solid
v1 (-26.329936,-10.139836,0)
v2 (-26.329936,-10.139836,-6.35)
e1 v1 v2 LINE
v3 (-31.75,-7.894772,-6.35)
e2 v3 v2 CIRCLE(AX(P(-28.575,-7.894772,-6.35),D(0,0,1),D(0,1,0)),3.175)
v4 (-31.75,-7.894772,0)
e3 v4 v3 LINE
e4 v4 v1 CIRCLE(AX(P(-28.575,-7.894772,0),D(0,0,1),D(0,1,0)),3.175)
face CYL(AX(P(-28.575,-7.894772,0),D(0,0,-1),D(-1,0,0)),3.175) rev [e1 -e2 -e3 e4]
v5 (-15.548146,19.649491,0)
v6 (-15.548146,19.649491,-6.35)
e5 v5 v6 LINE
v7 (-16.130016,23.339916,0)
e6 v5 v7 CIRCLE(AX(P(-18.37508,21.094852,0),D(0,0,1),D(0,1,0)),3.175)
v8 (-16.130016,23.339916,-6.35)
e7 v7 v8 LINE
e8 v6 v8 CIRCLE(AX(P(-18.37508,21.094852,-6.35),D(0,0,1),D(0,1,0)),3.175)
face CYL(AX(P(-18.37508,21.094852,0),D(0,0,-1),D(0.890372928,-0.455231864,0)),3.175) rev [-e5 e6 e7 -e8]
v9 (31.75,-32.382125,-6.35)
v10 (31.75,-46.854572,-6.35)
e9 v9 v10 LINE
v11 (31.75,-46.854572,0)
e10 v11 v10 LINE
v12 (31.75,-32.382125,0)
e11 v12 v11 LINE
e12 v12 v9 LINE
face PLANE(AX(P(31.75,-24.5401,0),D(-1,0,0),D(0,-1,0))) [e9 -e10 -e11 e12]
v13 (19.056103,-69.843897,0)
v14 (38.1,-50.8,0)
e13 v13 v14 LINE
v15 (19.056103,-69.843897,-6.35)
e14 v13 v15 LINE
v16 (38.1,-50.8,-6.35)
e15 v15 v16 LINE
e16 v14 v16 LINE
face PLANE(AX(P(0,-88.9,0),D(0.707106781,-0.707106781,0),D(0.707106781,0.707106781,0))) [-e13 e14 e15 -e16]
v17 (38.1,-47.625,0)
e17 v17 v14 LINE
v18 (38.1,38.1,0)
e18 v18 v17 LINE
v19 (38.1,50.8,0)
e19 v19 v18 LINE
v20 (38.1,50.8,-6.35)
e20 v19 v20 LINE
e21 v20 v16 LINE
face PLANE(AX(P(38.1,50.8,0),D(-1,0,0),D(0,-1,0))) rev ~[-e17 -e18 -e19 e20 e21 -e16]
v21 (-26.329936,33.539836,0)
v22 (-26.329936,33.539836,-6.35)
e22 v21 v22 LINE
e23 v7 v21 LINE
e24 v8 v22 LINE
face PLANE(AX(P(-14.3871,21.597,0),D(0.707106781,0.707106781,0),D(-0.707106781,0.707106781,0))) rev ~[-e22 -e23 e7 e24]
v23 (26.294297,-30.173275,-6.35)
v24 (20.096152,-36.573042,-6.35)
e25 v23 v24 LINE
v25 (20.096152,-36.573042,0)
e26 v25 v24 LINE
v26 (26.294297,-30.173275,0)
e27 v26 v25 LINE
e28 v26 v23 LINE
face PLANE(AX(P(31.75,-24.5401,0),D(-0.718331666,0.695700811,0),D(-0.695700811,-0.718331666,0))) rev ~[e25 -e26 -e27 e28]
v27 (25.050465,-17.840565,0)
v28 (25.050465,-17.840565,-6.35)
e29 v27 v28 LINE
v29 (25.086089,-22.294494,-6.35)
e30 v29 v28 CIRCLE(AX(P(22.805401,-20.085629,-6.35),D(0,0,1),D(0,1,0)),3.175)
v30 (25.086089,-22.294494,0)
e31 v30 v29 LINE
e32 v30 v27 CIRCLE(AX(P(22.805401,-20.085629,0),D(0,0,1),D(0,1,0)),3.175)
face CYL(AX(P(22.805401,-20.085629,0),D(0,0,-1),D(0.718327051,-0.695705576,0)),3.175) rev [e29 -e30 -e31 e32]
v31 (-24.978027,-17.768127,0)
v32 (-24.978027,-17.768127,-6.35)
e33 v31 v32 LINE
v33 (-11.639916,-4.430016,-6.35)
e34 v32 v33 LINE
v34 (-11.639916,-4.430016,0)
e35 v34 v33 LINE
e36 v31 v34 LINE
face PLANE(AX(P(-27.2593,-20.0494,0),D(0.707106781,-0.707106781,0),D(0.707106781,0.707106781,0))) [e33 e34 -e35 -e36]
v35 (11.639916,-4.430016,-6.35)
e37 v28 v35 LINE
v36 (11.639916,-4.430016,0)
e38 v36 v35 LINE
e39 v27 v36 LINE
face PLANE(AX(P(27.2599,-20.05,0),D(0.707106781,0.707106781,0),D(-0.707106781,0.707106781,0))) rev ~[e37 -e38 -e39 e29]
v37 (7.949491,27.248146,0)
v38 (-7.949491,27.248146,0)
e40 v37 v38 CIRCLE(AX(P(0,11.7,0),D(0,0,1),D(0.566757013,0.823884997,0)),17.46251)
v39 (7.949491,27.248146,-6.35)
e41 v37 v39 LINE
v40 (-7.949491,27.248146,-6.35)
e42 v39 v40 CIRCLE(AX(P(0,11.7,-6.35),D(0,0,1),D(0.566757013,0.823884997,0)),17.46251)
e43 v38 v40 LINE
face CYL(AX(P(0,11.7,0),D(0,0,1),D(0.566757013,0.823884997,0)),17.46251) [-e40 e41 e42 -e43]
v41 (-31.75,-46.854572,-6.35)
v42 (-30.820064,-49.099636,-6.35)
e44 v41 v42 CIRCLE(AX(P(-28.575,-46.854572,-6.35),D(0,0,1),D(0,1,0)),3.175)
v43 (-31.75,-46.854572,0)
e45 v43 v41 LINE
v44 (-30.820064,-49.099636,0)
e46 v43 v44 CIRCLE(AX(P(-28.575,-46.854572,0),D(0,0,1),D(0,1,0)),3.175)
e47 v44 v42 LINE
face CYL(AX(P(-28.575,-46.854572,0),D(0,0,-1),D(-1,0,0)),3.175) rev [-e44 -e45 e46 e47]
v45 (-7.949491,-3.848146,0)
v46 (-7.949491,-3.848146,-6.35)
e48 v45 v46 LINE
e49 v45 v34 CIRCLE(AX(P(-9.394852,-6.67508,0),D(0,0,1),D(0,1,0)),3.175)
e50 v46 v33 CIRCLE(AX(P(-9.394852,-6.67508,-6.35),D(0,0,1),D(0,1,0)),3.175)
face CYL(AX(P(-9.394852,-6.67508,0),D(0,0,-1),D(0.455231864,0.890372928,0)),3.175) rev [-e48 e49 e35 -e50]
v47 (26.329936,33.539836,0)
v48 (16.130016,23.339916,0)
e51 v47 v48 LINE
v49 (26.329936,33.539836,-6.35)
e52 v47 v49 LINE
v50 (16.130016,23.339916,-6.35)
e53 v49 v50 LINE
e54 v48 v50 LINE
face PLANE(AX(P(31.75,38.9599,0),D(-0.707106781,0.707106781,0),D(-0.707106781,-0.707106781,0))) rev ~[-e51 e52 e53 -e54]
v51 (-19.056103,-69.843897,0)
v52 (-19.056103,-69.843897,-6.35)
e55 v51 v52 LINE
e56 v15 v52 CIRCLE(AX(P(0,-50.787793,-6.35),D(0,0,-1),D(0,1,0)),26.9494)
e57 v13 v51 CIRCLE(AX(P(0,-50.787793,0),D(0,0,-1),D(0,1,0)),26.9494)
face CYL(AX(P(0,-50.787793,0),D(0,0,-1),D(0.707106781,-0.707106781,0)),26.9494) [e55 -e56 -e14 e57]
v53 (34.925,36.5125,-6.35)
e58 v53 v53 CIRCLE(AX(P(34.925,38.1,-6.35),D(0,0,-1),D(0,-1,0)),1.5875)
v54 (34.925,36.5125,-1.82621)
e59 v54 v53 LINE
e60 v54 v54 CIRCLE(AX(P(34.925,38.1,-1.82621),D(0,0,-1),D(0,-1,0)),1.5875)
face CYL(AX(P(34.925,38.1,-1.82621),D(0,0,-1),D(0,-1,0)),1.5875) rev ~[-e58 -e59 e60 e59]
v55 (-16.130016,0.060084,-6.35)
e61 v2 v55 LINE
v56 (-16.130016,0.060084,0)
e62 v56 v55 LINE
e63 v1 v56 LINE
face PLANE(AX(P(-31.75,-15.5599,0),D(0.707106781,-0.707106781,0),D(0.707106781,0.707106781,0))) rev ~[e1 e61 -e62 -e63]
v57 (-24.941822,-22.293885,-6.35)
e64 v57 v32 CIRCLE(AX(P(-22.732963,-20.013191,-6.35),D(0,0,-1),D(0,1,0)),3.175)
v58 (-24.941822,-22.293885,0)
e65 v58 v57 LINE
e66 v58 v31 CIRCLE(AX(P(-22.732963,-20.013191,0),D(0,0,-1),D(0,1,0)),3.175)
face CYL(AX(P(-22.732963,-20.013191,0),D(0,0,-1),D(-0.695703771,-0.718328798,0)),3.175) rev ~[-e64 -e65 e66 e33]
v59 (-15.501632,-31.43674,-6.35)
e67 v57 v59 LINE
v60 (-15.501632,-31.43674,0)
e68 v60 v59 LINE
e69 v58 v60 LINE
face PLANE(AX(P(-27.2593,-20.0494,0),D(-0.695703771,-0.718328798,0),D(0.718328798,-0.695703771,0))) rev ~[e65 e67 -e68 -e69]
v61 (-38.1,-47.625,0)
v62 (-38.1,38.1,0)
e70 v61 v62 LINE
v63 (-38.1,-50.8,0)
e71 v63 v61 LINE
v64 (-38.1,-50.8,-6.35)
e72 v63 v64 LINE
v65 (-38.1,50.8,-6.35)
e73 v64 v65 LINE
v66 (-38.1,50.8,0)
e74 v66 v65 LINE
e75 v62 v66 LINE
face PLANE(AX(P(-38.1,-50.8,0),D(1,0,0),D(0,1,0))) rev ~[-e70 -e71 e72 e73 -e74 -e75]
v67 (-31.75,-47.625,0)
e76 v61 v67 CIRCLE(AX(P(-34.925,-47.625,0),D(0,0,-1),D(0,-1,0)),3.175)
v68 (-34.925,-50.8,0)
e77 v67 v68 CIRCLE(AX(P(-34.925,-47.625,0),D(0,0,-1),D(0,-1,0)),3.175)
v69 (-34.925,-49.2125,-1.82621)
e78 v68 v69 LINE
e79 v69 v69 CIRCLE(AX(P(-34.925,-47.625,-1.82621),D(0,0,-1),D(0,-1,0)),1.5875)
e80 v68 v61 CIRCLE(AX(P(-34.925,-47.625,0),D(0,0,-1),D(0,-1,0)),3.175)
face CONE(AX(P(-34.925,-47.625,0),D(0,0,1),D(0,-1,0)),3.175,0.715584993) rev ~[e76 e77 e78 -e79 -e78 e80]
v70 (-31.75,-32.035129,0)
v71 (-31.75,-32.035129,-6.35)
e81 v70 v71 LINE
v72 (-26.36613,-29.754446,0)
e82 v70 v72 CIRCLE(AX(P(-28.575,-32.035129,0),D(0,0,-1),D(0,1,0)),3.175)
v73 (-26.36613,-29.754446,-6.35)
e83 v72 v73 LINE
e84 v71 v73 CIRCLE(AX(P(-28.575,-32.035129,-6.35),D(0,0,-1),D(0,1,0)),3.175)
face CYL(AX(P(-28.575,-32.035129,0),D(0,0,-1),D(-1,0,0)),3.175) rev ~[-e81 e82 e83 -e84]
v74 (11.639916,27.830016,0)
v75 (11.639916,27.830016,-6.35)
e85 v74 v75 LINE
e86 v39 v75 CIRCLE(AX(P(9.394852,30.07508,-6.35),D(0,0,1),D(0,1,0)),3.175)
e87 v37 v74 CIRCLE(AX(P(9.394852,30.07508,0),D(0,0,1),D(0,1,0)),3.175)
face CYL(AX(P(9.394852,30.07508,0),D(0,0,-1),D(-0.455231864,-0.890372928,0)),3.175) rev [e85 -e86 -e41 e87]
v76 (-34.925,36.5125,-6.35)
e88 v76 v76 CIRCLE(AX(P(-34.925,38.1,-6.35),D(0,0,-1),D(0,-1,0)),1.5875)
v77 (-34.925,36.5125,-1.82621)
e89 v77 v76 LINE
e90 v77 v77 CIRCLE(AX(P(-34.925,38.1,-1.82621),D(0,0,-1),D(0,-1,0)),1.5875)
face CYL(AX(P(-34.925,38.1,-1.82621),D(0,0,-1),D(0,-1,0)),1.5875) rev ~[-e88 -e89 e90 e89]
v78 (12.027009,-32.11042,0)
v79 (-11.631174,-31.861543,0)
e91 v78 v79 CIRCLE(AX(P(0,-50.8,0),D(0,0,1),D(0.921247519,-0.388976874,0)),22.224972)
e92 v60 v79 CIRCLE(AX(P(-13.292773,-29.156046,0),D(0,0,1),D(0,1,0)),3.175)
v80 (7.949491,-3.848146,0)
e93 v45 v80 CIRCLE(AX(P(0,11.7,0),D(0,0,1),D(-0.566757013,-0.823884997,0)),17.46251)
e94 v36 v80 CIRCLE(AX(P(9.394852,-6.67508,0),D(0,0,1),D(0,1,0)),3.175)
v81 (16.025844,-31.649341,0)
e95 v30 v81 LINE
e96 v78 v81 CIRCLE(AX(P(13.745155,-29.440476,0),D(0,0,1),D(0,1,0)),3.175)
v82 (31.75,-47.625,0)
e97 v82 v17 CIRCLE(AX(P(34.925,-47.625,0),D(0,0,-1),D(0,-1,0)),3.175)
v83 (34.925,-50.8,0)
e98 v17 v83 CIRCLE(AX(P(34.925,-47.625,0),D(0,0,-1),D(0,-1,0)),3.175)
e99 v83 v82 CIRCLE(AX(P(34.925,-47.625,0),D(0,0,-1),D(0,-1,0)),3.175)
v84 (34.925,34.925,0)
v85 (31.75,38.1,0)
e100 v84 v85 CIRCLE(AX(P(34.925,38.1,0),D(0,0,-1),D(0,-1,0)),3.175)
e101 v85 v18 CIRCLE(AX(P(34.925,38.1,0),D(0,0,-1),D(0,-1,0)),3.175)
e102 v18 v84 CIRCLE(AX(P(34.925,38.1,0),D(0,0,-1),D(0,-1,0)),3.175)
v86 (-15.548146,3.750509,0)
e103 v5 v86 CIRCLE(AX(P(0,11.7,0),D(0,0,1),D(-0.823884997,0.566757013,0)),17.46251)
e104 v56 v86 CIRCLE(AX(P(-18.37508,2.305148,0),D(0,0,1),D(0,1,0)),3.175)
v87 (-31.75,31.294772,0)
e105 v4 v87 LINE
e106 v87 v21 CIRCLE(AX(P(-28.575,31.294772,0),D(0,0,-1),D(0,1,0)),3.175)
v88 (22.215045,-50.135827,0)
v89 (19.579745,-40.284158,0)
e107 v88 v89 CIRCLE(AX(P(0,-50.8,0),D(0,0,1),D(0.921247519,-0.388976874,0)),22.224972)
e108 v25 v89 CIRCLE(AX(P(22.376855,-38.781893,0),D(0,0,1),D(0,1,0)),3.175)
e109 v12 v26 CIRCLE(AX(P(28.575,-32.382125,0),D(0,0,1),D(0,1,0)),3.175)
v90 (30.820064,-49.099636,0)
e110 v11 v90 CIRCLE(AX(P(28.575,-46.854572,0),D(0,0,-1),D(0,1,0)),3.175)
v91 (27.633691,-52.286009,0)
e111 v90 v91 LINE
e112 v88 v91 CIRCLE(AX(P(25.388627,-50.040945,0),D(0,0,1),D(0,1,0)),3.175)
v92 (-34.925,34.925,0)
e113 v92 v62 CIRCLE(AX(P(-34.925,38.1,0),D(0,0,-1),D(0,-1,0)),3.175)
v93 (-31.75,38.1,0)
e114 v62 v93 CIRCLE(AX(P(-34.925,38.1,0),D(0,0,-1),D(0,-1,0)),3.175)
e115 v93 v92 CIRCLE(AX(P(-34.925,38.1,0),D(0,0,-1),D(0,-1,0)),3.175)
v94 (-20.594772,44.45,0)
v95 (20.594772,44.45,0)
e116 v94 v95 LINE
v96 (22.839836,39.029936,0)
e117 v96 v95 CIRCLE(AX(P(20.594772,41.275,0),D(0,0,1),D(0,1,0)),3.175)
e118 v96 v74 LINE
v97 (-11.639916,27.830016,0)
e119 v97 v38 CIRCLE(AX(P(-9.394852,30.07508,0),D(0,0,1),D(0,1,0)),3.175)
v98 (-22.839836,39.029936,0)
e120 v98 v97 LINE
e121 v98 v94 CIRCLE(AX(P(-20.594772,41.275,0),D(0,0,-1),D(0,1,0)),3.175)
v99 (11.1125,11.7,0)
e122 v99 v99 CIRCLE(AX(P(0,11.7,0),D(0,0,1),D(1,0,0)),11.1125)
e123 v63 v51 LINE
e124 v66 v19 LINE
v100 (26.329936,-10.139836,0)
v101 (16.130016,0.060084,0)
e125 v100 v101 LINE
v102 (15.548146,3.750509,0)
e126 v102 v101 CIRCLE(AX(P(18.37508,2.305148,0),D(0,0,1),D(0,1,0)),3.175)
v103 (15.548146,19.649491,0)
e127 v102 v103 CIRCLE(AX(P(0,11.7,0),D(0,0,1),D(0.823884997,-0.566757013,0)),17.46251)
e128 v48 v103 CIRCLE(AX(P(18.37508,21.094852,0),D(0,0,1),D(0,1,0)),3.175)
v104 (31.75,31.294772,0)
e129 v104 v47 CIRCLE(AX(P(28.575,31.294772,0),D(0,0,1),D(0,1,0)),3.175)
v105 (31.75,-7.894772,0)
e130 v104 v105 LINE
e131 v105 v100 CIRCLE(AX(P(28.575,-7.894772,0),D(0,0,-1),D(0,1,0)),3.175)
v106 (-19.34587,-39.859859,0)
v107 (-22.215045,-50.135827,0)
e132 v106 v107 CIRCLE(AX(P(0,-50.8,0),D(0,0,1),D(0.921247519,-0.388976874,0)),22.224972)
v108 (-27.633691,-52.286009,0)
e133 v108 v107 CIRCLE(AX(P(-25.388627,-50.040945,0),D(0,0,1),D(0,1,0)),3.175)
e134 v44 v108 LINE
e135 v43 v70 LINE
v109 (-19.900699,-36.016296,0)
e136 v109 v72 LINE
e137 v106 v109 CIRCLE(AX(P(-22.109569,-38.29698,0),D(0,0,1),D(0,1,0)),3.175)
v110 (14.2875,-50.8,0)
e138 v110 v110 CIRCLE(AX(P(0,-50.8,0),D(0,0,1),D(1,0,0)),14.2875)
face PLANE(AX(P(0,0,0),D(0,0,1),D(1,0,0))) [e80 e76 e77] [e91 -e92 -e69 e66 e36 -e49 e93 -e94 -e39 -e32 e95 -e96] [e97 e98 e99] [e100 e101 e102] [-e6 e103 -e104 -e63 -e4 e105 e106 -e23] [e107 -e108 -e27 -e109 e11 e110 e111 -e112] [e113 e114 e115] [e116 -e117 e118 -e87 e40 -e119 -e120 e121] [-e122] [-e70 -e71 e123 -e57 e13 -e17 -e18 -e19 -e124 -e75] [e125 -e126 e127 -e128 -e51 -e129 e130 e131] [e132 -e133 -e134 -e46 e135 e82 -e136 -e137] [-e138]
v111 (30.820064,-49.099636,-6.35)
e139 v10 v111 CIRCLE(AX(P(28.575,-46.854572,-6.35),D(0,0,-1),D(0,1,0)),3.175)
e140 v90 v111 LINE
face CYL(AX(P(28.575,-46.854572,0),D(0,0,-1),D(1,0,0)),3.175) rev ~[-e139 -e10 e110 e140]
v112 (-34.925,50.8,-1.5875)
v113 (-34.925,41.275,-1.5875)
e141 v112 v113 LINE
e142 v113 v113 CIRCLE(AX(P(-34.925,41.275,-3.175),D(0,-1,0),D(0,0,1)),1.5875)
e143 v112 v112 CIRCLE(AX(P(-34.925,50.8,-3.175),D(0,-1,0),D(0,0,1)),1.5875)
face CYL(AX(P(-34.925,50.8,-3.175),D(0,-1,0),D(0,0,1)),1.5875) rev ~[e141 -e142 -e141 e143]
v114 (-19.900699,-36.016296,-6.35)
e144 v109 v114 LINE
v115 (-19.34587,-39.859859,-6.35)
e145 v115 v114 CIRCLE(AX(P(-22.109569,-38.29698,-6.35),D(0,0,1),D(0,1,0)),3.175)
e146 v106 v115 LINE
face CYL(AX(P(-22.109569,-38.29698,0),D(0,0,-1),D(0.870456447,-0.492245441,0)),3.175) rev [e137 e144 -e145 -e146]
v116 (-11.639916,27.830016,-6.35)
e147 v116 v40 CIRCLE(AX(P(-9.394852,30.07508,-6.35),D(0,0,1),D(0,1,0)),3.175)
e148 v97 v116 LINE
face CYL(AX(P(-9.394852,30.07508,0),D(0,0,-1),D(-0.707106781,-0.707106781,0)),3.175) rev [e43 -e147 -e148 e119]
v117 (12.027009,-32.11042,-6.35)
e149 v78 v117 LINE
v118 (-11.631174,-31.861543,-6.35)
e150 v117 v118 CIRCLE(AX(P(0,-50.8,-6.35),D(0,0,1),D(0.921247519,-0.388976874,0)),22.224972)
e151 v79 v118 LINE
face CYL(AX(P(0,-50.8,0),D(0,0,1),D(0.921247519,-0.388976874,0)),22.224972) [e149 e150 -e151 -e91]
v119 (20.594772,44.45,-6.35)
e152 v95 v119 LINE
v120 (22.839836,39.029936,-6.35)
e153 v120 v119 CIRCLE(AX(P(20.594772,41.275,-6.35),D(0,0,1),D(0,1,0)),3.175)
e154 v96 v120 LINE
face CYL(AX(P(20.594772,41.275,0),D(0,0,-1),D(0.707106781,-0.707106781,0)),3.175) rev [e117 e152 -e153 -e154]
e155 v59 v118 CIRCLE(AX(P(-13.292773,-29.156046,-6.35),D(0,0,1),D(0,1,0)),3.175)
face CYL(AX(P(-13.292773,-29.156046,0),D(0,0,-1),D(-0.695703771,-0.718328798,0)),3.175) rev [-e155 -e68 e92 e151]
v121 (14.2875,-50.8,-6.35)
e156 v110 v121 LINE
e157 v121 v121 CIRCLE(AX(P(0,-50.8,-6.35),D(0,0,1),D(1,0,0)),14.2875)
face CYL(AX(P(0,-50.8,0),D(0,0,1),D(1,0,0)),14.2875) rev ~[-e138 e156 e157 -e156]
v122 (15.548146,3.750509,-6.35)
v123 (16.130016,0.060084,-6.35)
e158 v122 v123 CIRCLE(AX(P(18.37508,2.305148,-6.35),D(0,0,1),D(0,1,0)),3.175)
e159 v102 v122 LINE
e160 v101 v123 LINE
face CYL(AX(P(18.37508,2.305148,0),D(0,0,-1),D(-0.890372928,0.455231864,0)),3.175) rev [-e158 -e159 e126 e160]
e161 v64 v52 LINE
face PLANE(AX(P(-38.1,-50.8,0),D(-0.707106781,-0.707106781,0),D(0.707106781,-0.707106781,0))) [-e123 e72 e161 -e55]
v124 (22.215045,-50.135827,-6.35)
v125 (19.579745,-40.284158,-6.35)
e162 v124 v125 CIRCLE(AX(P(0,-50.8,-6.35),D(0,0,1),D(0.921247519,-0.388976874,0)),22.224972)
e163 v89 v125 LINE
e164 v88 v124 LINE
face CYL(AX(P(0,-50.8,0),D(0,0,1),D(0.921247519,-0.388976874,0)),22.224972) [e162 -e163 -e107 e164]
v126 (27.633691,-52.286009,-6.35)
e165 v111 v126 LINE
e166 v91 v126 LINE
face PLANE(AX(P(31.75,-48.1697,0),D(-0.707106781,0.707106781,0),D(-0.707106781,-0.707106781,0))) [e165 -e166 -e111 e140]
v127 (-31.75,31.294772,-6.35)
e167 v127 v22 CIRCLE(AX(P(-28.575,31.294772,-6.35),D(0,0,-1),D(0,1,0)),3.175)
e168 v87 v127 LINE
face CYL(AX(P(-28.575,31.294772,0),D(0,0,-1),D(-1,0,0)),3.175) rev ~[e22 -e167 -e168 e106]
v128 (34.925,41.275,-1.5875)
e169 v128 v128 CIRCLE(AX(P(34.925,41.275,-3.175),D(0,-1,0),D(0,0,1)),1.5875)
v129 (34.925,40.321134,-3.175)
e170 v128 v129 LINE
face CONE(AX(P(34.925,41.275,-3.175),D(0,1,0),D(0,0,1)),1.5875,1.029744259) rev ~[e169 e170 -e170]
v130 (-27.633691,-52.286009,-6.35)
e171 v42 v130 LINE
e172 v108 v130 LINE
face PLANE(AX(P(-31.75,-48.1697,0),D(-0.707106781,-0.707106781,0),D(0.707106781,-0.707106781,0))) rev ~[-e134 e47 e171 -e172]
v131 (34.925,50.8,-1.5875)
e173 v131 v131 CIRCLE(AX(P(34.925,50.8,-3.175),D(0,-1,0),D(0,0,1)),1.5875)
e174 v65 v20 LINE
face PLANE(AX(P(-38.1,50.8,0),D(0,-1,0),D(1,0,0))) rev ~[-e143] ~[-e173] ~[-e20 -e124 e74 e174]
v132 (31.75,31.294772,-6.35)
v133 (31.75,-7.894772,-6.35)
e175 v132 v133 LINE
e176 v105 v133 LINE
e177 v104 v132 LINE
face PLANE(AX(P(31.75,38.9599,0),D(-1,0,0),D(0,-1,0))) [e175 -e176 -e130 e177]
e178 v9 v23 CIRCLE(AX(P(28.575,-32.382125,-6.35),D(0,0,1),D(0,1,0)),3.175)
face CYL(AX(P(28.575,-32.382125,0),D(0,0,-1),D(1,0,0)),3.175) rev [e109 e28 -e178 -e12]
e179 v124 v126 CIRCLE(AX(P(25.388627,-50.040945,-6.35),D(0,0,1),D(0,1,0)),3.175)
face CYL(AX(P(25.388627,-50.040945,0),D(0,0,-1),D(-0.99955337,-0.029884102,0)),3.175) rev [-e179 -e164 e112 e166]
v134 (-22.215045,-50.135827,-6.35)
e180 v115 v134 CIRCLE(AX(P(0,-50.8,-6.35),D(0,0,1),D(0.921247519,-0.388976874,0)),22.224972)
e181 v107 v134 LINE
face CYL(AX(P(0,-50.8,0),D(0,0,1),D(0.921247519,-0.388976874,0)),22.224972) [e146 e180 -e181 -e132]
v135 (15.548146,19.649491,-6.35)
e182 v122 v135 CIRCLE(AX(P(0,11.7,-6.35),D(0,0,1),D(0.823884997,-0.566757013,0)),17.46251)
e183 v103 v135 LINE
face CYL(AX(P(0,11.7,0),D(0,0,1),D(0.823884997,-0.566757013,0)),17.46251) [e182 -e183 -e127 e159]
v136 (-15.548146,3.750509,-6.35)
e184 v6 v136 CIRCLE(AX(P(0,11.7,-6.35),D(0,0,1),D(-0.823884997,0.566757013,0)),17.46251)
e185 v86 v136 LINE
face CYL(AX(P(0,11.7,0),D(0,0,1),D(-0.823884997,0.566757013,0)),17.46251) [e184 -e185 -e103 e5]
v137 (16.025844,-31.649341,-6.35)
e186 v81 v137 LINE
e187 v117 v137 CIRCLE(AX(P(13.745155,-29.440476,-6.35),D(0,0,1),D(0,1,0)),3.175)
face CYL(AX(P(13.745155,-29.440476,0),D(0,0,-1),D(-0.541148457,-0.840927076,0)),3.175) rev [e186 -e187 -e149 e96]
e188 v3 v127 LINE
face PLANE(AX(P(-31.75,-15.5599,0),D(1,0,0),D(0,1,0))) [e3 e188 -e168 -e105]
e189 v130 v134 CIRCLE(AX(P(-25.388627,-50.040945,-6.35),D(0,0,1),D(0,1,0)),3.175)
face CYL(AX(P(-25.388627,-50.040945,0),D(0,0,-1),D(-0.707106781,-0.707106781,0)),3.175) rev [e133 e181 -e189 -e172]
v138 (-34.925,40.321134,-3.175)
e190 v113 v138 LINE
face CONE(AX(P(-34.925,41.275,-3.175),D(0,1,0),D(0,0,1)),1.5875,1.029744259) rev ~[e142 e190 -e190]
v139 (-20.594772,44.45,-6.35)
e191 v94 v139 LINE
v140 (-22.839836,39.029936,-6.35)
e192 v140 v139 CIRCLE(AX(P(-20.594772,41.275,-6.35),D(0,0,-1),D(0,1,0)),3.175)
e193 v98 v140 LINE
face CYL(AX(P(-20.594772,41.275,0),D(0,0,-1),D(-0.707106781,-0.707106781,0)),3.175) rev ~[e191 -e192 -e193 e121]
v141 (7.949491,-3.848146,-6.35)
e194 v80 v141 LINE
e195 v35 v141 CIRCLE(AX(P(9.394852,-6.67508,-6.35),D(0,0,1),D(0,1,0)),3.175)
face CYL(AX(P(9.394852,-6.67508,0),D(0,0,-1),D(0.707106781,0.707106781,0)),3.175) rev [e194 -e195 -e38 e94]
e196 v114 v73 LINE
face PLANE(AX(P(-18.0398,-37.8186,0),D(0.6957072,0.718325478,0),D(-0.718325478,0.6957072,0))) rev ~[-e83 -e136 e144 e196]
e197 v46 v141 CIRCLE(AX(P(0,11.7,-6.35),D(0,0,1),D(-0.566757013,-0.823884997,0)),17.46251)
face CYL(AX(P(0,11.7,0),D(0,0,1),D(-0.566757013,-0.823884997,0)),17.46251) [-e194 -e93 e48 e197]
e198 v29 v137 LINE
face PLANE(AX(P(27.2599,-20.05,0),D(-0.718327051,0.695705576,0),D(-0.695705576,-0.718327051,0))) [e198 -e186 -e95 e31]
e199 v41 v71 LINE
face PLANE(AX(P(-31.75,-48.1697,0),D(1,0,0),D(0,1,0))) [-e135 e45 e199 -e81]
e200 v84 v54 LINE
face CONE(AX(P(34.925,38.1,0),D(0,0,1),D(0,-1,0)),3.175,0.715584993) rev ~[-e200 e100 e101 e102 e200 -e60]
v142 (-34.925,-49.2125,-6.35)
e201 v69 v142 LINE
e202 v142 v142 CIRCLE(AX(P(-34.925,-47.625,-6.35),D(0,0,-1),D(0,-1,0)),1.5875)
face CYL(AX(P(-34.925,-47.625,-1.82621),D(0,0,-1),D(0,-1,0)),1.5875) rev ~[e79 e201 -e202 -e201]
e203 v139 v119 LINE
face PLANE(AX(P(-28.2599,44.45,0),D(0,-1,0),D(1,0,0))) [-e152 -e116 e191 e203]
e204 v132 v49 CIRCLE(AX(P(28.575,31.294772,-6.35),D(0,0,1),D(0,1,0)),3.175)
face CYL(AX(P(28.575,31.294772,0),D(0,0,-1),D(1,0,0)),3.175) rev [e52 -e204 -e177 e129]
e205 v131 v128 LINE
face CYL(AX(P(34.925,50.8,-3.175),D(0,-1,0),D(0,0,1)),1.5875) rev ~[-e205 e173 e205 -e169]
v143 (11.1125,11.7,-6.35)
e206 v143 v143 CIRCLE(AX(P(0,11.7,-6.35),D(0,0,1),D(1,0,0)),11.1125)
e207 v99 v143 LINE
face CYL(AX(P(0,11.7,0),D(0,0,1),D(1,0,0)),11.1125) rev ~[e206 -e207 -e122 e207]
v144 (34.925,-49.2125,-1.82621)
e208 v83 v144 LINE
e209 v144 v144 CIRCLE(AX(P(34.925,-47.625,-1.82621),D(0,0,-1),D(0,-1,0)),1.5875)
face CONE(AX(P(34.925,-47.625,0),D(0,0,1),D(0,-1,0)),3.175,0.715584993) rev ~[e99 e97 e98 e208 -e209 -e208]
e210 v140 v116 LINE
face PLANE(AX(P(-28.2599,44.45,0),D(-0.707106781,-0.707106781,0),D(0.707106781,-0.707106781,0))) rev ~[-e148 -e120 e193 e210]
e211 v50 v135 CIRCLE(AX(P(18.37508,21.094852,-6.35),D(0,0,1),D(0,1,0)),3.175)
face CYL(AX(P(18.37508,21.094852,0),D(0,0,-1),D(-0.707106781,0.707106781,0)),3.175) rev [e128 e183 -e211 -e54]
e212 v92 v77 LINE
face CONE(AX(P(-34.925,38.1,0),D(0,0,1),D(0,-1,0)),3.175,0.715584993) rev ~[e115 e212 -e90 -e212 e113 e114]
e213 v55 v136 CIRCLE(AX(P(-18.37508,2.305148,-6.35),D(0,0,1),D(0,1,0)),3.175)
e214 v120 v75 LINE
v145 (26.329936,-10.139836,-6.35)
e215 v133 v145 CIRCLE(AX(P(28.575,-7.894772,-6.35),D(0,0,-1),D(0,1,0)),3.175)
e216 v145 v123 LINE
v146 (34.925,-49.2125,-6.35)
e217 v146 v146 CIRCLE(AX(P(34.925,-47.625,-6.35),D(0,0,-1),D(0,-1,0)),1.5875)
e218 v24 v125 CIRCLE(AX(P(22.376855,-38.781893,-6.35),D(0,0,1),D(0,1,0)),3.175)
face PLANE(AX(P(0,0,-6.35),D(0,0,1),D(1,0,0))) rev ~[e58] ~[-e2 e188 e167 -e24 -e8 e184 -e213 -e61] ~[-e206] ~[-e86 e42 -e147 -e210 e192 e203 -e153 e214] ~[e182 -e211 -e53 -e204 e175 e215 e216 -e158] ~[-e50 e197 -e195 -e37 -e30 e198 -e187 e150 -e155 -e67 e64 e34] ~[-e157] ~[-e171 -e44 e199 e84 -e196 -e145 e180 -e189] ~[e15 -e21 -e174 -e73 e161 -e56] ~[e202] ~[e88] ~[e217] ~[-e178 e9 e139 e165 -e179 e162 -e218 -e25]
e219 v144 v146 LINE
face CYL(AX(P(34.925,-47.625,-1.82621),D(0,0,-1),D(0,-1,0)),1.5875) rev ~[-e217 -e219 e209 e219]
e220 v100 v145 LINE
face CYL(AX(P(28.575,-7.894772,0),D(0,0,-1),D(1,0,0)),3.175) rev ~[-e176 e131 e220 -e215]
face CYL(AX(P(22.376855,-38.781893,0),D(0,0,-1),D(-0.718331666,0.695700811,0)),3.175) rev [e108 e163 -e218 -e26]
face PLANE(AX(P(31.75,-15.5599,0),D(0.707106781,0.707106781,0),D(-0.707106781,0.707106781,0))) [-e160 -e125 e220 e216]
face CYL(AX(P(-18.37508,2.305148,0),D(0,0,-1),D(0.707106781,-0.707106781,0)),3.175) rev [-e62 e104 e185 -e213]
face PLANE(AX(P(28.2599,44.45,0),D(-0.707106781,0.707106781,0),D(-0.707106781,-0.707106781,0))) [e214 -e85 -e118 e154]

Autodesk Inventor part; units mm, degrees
ref_plane "YZ Plane" through (0, 0, 0) normal (1, 0, 0) x (0, 1, 0)
ref_plane "XZ Plane" through (0, 0, 0) normal (0, 1, 0) x (-1, 0, 0)
ref_plane "XY Plane" through (0, 0, 0) normal (0, 0, 1) x (1, 0, 0)
sketch "Sketch1" plane through (0, 0, 0) normal (0, 0, 1) x (1, 0, 0)
  line L0 (-38.1, 50.8) -> (38.1, 50.8)
  line L1 (38.1, 50.8) -> (38.1, -50.8)
  line L2 (-38.1, -50.8) -> (-38.1, 50.8)
  circle A0 centre (0, 11.7) radius 11.1125
  line L3 (-38.1, -50.8) -> (0, -88.9)
  line L4 (0, -88.9) -> (38.1, -50.8)
  circle A1 centre (0, -50.8) radius 14.2875
  point P0 (0, 0)
  point P1 (-34.925, -47.625)
  point P2 (34.925, -47.625)
  point P3 (-34.925, 38.1)
  point P4 (34.925, 38.1)
  dimension "d0" = 76.2
  dimension "d1" = 38.1
  dimension "d2" = 101.6
  dimension "d3" = 50.8
  dimension "d4" = 101.6
  dimension "d5" = 38.1
  dimension "d6" = 38.1
  dimension "d7" = 28.575
  dimension "d8" = 38.1
  dimension "d9" = 38.1
  dimension "d10" = 22.225
  dimension "d11" = 38.1
  dimension "d13" = 3.175
  dimension "d14" = 12.7
  dimension "d15" = 3.175
  dimension "d16" = 3.175
  dimension "d17" = 3.175
  dimension "d18" = 3.175
  dimension "d31" = 3.175
  dimension "d32" = 12.7
  dimension "d88" = 62.5
extrude "Extrusion1" add sketch "Sketch1" against normal blind 6.35
fillet "Fillet1" radius 26.9494 1 edges at (0, -88.9, -3.175)
sketch "Sketch2" plane through (0, 0, 0) normal (0, 0, 1) x (1, 0, 0)
  line L0 (-38.1, 50.8) -> (38.1, 50.8) projected
  line L1 (-38.1, -50.8) -> (-38.1, 50.8) projected
  line L2 (38.1, -50.8) -> (19.0561, -69.8439) projected
  line L3 (38.1, 50.8) -> (38.1, -50.8) projected
  line L4 (-19.0561, -69.8439) -> (-38.1, -50.8) projected
  circle A0 centre (0, -50.8) radius 14.2875 projected
  line L5 (-31.75, 44.45) -> (31.75, 44.45)
  line L6 (31.75, 44.45) -> (31.75, -48.1697)
  line L7 (-31.75, -48.1697) -> (-31.75, 44.45)
  line L8 (-31.75, -48.1697) -> (-20.4747, -59.445)
  line L9 (31.75, -48.1697) -> (20.4747, -59.445)
  arc A1 (20.4747, -59.445) -> (-20.4747, -59.445) centre (0, -50.8) ccw
  arc A2 (9.897, 26.0871) -> (-9.897, 26.0871) centre (0, 11.7) ccw
  arc A3 (14.3871, 1.803) -> (14.3871, 21.597) centre (0, 11.7) ccw
  arc A4 (-9.897, -2.6871) -> (9.897, -2.6871) centre (0, 11.7) ccw
  arc A5 (-14.3871, 21.597) -> (-14.3871, 1.803) centre (0, 11.7) ccw
  line L10 (0, 11.7) -> (-31.75, 43.45) construction
  line L11 (-31.75, 43.45) -> (0, 11.7) construction
  line L12 (0, 11.7) -> (31.75, 43.45) construction
  line L13 (0, 11.7) -> (-31.75, -20.05) construction
  line L14 (0, 11.7) -> (31.75, -20.05) construction
  line L15 (-31.75, 38.9599) -> (-14.3871, 21.597) construction
  line L16 (-14.3871, 21.597) -> (-31.75, 38.9599)
  line L17 (-28.2599, 44.45) -> (-9.897, 26.0871)
  line L18 (28.2599, 44.45) -> (9.897, 26.0871)
  line L19 (31.75, 38.9599) -> (14.3871, 21.597)
  line L20 (31.75, -15.5599) -> (14.3871, 1.803)
  line L21 (14.3871, 1.803) -> (31.75, -15.5599)
  line L22 (31.75, -24.5401) -> (9.897, -2.6871)
  line L23 (-31.75, -24.5401) -> (-9.897, -2.6871)
  line L24 (-31.75, -15.5599) -> (-14.3871, 1.803)
  line L25 (-31.75, -20.05) -> (0, -50.8) construction
  line L26 (0, -50.8) -> (31.75, -20.05) construction
  line L27 (-18.0398, -37.8186) -> (-31.75, -24.5401)
  line L28 (31.75, -24.5401) -> (18.396, -38.3285)
  line L29 (27.2599, -20.05) -> (14.1094, -33.6281)
  line L30 (-27.2593, -20.0494) -> (-13.6325, -33.247)
  point P0 (38.1, -47.625)
  point P1 (38.1, 41.275)
  point P2 (25.4, 50.8)
  point P3 (-25.4, 50.8)
  point P4 (-38.1, 41.275)
  point P5 (-38.1, -47.625)
  point P6 (-34.925, 38.1)
  point P7 (-34.925, -47.625)
  point P8 (34.925, 38.1)
  point P9 (34.925, -47.625)
  dimension "d92" = 12.7
  dimension "d93" = 3.175
  dimension "d96" = 85.725
  dimension "d99" = 69.85
  dimension "d106" = 6.35
  dimension "d107" = 6.35
  dimension "d108" = 6.35
  dimension "d109" = 6.35
  dimension "d110" = 6.35
  dimension "d111" = 22.225
  dimension "d112" = 17.4625
  dimension "d113" = 6.35
  dimension "d114" = 3.175
  dimension "d115" = 6.35
  dimension "d116" = 3.175
  dimension "d117" = 6.35
  dimension "d118" = 3.175
  dimension "d119" = 6.35
  dimension "d120" = 3.175
  dimension "d121" = 6.35
  dimension "d122" = 6.3492
hole "Hole3" at (-34.925, -47.625, 0) at (34.925, -47.625, 0) at (-34.925, 38.1, 0) at (34.925, 38.1, 0) direction (0, 0, -1) diameter 3.175 end through all countersink diameter 6.35 countersink angle 82
sketch "Sketch3" plane through (-38.1, 50.8, 0) normal (0, 1, 0) x (1, 0, 0)
  line L0 (0, 0) -> (0, 6.35) projected
  line L1 (0, 0) -> (76.2, 0) projected
  line L2 (76.2, 0) -> (76.2, 6.35) projected
  point P0 (38.1, 0)
  point P1 (3.175, 3.175)
  point P2 (73.025, 3.175)
  dimension "d77" = 3.175
  dimension "d78" = 3.175
  dimension "d79" = 3.175
hole "Hole4" at (-34.925, 50.8, -3.175) at (34.925, 50.8, -3.175) direction (0, -1, 0) diameter 3.175 depth 9.525 tip angle 118
extrude "Extrusion4" cut sketch "Sketch2" against normal blind 25.4 contours L5 L18 A2 L17 | L16 A5 L24 L7 | L27 A1 L8 L7 | L6 L20 A3 L19 | L23 A4 L22 L29 A1 L30 | L6 L9 A1 L28
fillet "Fillet4" radius 3.175 26 edges at (-28.2599, 44.45, -3.175) (-9.897, 26.0871, -3.175) (28.2599, 44.45, -3.175) (9.897, 26.0871, -3.175) (14.3871, 21.597, -3.175) (-14.3871, 1.803, -3.175) (14.3871, 1.803, -3.175) (31.75, 38.9599, -3.175) (-14.3871, 21.597, -3.175) (-31.75, 38.9599, -3.175) (-31.75, -15.5599, -3.175) (31.75, -15.5599, -3.175) (9.897, -2.6871, -3.175) (-9.897, -2.6871, -3.175) (-27.2593, -20.0494, -3.175) (27.2599, -20.05, -3.175) (14.1094, -33.6281, -3.175) (-13.6325, -33.247, -3.175) (-31.75, -24.5401, -3.175) (-18.0398, -37.8186, -3.175) (-31.75, -48.1697, -3.175) (-20.4747, -59.445, -3.175) (20.4747, -59.445, -3.175) (31.75, -48.1697, -3.175) (31.75, -24.5401, -3.175) (18.396, -38.3285, -3.175)
equation "\"d108\" = d106"
equation "\"d109\" = d108"
equation "\"d110\" = d109"
properties part number "Lower box side plate"
